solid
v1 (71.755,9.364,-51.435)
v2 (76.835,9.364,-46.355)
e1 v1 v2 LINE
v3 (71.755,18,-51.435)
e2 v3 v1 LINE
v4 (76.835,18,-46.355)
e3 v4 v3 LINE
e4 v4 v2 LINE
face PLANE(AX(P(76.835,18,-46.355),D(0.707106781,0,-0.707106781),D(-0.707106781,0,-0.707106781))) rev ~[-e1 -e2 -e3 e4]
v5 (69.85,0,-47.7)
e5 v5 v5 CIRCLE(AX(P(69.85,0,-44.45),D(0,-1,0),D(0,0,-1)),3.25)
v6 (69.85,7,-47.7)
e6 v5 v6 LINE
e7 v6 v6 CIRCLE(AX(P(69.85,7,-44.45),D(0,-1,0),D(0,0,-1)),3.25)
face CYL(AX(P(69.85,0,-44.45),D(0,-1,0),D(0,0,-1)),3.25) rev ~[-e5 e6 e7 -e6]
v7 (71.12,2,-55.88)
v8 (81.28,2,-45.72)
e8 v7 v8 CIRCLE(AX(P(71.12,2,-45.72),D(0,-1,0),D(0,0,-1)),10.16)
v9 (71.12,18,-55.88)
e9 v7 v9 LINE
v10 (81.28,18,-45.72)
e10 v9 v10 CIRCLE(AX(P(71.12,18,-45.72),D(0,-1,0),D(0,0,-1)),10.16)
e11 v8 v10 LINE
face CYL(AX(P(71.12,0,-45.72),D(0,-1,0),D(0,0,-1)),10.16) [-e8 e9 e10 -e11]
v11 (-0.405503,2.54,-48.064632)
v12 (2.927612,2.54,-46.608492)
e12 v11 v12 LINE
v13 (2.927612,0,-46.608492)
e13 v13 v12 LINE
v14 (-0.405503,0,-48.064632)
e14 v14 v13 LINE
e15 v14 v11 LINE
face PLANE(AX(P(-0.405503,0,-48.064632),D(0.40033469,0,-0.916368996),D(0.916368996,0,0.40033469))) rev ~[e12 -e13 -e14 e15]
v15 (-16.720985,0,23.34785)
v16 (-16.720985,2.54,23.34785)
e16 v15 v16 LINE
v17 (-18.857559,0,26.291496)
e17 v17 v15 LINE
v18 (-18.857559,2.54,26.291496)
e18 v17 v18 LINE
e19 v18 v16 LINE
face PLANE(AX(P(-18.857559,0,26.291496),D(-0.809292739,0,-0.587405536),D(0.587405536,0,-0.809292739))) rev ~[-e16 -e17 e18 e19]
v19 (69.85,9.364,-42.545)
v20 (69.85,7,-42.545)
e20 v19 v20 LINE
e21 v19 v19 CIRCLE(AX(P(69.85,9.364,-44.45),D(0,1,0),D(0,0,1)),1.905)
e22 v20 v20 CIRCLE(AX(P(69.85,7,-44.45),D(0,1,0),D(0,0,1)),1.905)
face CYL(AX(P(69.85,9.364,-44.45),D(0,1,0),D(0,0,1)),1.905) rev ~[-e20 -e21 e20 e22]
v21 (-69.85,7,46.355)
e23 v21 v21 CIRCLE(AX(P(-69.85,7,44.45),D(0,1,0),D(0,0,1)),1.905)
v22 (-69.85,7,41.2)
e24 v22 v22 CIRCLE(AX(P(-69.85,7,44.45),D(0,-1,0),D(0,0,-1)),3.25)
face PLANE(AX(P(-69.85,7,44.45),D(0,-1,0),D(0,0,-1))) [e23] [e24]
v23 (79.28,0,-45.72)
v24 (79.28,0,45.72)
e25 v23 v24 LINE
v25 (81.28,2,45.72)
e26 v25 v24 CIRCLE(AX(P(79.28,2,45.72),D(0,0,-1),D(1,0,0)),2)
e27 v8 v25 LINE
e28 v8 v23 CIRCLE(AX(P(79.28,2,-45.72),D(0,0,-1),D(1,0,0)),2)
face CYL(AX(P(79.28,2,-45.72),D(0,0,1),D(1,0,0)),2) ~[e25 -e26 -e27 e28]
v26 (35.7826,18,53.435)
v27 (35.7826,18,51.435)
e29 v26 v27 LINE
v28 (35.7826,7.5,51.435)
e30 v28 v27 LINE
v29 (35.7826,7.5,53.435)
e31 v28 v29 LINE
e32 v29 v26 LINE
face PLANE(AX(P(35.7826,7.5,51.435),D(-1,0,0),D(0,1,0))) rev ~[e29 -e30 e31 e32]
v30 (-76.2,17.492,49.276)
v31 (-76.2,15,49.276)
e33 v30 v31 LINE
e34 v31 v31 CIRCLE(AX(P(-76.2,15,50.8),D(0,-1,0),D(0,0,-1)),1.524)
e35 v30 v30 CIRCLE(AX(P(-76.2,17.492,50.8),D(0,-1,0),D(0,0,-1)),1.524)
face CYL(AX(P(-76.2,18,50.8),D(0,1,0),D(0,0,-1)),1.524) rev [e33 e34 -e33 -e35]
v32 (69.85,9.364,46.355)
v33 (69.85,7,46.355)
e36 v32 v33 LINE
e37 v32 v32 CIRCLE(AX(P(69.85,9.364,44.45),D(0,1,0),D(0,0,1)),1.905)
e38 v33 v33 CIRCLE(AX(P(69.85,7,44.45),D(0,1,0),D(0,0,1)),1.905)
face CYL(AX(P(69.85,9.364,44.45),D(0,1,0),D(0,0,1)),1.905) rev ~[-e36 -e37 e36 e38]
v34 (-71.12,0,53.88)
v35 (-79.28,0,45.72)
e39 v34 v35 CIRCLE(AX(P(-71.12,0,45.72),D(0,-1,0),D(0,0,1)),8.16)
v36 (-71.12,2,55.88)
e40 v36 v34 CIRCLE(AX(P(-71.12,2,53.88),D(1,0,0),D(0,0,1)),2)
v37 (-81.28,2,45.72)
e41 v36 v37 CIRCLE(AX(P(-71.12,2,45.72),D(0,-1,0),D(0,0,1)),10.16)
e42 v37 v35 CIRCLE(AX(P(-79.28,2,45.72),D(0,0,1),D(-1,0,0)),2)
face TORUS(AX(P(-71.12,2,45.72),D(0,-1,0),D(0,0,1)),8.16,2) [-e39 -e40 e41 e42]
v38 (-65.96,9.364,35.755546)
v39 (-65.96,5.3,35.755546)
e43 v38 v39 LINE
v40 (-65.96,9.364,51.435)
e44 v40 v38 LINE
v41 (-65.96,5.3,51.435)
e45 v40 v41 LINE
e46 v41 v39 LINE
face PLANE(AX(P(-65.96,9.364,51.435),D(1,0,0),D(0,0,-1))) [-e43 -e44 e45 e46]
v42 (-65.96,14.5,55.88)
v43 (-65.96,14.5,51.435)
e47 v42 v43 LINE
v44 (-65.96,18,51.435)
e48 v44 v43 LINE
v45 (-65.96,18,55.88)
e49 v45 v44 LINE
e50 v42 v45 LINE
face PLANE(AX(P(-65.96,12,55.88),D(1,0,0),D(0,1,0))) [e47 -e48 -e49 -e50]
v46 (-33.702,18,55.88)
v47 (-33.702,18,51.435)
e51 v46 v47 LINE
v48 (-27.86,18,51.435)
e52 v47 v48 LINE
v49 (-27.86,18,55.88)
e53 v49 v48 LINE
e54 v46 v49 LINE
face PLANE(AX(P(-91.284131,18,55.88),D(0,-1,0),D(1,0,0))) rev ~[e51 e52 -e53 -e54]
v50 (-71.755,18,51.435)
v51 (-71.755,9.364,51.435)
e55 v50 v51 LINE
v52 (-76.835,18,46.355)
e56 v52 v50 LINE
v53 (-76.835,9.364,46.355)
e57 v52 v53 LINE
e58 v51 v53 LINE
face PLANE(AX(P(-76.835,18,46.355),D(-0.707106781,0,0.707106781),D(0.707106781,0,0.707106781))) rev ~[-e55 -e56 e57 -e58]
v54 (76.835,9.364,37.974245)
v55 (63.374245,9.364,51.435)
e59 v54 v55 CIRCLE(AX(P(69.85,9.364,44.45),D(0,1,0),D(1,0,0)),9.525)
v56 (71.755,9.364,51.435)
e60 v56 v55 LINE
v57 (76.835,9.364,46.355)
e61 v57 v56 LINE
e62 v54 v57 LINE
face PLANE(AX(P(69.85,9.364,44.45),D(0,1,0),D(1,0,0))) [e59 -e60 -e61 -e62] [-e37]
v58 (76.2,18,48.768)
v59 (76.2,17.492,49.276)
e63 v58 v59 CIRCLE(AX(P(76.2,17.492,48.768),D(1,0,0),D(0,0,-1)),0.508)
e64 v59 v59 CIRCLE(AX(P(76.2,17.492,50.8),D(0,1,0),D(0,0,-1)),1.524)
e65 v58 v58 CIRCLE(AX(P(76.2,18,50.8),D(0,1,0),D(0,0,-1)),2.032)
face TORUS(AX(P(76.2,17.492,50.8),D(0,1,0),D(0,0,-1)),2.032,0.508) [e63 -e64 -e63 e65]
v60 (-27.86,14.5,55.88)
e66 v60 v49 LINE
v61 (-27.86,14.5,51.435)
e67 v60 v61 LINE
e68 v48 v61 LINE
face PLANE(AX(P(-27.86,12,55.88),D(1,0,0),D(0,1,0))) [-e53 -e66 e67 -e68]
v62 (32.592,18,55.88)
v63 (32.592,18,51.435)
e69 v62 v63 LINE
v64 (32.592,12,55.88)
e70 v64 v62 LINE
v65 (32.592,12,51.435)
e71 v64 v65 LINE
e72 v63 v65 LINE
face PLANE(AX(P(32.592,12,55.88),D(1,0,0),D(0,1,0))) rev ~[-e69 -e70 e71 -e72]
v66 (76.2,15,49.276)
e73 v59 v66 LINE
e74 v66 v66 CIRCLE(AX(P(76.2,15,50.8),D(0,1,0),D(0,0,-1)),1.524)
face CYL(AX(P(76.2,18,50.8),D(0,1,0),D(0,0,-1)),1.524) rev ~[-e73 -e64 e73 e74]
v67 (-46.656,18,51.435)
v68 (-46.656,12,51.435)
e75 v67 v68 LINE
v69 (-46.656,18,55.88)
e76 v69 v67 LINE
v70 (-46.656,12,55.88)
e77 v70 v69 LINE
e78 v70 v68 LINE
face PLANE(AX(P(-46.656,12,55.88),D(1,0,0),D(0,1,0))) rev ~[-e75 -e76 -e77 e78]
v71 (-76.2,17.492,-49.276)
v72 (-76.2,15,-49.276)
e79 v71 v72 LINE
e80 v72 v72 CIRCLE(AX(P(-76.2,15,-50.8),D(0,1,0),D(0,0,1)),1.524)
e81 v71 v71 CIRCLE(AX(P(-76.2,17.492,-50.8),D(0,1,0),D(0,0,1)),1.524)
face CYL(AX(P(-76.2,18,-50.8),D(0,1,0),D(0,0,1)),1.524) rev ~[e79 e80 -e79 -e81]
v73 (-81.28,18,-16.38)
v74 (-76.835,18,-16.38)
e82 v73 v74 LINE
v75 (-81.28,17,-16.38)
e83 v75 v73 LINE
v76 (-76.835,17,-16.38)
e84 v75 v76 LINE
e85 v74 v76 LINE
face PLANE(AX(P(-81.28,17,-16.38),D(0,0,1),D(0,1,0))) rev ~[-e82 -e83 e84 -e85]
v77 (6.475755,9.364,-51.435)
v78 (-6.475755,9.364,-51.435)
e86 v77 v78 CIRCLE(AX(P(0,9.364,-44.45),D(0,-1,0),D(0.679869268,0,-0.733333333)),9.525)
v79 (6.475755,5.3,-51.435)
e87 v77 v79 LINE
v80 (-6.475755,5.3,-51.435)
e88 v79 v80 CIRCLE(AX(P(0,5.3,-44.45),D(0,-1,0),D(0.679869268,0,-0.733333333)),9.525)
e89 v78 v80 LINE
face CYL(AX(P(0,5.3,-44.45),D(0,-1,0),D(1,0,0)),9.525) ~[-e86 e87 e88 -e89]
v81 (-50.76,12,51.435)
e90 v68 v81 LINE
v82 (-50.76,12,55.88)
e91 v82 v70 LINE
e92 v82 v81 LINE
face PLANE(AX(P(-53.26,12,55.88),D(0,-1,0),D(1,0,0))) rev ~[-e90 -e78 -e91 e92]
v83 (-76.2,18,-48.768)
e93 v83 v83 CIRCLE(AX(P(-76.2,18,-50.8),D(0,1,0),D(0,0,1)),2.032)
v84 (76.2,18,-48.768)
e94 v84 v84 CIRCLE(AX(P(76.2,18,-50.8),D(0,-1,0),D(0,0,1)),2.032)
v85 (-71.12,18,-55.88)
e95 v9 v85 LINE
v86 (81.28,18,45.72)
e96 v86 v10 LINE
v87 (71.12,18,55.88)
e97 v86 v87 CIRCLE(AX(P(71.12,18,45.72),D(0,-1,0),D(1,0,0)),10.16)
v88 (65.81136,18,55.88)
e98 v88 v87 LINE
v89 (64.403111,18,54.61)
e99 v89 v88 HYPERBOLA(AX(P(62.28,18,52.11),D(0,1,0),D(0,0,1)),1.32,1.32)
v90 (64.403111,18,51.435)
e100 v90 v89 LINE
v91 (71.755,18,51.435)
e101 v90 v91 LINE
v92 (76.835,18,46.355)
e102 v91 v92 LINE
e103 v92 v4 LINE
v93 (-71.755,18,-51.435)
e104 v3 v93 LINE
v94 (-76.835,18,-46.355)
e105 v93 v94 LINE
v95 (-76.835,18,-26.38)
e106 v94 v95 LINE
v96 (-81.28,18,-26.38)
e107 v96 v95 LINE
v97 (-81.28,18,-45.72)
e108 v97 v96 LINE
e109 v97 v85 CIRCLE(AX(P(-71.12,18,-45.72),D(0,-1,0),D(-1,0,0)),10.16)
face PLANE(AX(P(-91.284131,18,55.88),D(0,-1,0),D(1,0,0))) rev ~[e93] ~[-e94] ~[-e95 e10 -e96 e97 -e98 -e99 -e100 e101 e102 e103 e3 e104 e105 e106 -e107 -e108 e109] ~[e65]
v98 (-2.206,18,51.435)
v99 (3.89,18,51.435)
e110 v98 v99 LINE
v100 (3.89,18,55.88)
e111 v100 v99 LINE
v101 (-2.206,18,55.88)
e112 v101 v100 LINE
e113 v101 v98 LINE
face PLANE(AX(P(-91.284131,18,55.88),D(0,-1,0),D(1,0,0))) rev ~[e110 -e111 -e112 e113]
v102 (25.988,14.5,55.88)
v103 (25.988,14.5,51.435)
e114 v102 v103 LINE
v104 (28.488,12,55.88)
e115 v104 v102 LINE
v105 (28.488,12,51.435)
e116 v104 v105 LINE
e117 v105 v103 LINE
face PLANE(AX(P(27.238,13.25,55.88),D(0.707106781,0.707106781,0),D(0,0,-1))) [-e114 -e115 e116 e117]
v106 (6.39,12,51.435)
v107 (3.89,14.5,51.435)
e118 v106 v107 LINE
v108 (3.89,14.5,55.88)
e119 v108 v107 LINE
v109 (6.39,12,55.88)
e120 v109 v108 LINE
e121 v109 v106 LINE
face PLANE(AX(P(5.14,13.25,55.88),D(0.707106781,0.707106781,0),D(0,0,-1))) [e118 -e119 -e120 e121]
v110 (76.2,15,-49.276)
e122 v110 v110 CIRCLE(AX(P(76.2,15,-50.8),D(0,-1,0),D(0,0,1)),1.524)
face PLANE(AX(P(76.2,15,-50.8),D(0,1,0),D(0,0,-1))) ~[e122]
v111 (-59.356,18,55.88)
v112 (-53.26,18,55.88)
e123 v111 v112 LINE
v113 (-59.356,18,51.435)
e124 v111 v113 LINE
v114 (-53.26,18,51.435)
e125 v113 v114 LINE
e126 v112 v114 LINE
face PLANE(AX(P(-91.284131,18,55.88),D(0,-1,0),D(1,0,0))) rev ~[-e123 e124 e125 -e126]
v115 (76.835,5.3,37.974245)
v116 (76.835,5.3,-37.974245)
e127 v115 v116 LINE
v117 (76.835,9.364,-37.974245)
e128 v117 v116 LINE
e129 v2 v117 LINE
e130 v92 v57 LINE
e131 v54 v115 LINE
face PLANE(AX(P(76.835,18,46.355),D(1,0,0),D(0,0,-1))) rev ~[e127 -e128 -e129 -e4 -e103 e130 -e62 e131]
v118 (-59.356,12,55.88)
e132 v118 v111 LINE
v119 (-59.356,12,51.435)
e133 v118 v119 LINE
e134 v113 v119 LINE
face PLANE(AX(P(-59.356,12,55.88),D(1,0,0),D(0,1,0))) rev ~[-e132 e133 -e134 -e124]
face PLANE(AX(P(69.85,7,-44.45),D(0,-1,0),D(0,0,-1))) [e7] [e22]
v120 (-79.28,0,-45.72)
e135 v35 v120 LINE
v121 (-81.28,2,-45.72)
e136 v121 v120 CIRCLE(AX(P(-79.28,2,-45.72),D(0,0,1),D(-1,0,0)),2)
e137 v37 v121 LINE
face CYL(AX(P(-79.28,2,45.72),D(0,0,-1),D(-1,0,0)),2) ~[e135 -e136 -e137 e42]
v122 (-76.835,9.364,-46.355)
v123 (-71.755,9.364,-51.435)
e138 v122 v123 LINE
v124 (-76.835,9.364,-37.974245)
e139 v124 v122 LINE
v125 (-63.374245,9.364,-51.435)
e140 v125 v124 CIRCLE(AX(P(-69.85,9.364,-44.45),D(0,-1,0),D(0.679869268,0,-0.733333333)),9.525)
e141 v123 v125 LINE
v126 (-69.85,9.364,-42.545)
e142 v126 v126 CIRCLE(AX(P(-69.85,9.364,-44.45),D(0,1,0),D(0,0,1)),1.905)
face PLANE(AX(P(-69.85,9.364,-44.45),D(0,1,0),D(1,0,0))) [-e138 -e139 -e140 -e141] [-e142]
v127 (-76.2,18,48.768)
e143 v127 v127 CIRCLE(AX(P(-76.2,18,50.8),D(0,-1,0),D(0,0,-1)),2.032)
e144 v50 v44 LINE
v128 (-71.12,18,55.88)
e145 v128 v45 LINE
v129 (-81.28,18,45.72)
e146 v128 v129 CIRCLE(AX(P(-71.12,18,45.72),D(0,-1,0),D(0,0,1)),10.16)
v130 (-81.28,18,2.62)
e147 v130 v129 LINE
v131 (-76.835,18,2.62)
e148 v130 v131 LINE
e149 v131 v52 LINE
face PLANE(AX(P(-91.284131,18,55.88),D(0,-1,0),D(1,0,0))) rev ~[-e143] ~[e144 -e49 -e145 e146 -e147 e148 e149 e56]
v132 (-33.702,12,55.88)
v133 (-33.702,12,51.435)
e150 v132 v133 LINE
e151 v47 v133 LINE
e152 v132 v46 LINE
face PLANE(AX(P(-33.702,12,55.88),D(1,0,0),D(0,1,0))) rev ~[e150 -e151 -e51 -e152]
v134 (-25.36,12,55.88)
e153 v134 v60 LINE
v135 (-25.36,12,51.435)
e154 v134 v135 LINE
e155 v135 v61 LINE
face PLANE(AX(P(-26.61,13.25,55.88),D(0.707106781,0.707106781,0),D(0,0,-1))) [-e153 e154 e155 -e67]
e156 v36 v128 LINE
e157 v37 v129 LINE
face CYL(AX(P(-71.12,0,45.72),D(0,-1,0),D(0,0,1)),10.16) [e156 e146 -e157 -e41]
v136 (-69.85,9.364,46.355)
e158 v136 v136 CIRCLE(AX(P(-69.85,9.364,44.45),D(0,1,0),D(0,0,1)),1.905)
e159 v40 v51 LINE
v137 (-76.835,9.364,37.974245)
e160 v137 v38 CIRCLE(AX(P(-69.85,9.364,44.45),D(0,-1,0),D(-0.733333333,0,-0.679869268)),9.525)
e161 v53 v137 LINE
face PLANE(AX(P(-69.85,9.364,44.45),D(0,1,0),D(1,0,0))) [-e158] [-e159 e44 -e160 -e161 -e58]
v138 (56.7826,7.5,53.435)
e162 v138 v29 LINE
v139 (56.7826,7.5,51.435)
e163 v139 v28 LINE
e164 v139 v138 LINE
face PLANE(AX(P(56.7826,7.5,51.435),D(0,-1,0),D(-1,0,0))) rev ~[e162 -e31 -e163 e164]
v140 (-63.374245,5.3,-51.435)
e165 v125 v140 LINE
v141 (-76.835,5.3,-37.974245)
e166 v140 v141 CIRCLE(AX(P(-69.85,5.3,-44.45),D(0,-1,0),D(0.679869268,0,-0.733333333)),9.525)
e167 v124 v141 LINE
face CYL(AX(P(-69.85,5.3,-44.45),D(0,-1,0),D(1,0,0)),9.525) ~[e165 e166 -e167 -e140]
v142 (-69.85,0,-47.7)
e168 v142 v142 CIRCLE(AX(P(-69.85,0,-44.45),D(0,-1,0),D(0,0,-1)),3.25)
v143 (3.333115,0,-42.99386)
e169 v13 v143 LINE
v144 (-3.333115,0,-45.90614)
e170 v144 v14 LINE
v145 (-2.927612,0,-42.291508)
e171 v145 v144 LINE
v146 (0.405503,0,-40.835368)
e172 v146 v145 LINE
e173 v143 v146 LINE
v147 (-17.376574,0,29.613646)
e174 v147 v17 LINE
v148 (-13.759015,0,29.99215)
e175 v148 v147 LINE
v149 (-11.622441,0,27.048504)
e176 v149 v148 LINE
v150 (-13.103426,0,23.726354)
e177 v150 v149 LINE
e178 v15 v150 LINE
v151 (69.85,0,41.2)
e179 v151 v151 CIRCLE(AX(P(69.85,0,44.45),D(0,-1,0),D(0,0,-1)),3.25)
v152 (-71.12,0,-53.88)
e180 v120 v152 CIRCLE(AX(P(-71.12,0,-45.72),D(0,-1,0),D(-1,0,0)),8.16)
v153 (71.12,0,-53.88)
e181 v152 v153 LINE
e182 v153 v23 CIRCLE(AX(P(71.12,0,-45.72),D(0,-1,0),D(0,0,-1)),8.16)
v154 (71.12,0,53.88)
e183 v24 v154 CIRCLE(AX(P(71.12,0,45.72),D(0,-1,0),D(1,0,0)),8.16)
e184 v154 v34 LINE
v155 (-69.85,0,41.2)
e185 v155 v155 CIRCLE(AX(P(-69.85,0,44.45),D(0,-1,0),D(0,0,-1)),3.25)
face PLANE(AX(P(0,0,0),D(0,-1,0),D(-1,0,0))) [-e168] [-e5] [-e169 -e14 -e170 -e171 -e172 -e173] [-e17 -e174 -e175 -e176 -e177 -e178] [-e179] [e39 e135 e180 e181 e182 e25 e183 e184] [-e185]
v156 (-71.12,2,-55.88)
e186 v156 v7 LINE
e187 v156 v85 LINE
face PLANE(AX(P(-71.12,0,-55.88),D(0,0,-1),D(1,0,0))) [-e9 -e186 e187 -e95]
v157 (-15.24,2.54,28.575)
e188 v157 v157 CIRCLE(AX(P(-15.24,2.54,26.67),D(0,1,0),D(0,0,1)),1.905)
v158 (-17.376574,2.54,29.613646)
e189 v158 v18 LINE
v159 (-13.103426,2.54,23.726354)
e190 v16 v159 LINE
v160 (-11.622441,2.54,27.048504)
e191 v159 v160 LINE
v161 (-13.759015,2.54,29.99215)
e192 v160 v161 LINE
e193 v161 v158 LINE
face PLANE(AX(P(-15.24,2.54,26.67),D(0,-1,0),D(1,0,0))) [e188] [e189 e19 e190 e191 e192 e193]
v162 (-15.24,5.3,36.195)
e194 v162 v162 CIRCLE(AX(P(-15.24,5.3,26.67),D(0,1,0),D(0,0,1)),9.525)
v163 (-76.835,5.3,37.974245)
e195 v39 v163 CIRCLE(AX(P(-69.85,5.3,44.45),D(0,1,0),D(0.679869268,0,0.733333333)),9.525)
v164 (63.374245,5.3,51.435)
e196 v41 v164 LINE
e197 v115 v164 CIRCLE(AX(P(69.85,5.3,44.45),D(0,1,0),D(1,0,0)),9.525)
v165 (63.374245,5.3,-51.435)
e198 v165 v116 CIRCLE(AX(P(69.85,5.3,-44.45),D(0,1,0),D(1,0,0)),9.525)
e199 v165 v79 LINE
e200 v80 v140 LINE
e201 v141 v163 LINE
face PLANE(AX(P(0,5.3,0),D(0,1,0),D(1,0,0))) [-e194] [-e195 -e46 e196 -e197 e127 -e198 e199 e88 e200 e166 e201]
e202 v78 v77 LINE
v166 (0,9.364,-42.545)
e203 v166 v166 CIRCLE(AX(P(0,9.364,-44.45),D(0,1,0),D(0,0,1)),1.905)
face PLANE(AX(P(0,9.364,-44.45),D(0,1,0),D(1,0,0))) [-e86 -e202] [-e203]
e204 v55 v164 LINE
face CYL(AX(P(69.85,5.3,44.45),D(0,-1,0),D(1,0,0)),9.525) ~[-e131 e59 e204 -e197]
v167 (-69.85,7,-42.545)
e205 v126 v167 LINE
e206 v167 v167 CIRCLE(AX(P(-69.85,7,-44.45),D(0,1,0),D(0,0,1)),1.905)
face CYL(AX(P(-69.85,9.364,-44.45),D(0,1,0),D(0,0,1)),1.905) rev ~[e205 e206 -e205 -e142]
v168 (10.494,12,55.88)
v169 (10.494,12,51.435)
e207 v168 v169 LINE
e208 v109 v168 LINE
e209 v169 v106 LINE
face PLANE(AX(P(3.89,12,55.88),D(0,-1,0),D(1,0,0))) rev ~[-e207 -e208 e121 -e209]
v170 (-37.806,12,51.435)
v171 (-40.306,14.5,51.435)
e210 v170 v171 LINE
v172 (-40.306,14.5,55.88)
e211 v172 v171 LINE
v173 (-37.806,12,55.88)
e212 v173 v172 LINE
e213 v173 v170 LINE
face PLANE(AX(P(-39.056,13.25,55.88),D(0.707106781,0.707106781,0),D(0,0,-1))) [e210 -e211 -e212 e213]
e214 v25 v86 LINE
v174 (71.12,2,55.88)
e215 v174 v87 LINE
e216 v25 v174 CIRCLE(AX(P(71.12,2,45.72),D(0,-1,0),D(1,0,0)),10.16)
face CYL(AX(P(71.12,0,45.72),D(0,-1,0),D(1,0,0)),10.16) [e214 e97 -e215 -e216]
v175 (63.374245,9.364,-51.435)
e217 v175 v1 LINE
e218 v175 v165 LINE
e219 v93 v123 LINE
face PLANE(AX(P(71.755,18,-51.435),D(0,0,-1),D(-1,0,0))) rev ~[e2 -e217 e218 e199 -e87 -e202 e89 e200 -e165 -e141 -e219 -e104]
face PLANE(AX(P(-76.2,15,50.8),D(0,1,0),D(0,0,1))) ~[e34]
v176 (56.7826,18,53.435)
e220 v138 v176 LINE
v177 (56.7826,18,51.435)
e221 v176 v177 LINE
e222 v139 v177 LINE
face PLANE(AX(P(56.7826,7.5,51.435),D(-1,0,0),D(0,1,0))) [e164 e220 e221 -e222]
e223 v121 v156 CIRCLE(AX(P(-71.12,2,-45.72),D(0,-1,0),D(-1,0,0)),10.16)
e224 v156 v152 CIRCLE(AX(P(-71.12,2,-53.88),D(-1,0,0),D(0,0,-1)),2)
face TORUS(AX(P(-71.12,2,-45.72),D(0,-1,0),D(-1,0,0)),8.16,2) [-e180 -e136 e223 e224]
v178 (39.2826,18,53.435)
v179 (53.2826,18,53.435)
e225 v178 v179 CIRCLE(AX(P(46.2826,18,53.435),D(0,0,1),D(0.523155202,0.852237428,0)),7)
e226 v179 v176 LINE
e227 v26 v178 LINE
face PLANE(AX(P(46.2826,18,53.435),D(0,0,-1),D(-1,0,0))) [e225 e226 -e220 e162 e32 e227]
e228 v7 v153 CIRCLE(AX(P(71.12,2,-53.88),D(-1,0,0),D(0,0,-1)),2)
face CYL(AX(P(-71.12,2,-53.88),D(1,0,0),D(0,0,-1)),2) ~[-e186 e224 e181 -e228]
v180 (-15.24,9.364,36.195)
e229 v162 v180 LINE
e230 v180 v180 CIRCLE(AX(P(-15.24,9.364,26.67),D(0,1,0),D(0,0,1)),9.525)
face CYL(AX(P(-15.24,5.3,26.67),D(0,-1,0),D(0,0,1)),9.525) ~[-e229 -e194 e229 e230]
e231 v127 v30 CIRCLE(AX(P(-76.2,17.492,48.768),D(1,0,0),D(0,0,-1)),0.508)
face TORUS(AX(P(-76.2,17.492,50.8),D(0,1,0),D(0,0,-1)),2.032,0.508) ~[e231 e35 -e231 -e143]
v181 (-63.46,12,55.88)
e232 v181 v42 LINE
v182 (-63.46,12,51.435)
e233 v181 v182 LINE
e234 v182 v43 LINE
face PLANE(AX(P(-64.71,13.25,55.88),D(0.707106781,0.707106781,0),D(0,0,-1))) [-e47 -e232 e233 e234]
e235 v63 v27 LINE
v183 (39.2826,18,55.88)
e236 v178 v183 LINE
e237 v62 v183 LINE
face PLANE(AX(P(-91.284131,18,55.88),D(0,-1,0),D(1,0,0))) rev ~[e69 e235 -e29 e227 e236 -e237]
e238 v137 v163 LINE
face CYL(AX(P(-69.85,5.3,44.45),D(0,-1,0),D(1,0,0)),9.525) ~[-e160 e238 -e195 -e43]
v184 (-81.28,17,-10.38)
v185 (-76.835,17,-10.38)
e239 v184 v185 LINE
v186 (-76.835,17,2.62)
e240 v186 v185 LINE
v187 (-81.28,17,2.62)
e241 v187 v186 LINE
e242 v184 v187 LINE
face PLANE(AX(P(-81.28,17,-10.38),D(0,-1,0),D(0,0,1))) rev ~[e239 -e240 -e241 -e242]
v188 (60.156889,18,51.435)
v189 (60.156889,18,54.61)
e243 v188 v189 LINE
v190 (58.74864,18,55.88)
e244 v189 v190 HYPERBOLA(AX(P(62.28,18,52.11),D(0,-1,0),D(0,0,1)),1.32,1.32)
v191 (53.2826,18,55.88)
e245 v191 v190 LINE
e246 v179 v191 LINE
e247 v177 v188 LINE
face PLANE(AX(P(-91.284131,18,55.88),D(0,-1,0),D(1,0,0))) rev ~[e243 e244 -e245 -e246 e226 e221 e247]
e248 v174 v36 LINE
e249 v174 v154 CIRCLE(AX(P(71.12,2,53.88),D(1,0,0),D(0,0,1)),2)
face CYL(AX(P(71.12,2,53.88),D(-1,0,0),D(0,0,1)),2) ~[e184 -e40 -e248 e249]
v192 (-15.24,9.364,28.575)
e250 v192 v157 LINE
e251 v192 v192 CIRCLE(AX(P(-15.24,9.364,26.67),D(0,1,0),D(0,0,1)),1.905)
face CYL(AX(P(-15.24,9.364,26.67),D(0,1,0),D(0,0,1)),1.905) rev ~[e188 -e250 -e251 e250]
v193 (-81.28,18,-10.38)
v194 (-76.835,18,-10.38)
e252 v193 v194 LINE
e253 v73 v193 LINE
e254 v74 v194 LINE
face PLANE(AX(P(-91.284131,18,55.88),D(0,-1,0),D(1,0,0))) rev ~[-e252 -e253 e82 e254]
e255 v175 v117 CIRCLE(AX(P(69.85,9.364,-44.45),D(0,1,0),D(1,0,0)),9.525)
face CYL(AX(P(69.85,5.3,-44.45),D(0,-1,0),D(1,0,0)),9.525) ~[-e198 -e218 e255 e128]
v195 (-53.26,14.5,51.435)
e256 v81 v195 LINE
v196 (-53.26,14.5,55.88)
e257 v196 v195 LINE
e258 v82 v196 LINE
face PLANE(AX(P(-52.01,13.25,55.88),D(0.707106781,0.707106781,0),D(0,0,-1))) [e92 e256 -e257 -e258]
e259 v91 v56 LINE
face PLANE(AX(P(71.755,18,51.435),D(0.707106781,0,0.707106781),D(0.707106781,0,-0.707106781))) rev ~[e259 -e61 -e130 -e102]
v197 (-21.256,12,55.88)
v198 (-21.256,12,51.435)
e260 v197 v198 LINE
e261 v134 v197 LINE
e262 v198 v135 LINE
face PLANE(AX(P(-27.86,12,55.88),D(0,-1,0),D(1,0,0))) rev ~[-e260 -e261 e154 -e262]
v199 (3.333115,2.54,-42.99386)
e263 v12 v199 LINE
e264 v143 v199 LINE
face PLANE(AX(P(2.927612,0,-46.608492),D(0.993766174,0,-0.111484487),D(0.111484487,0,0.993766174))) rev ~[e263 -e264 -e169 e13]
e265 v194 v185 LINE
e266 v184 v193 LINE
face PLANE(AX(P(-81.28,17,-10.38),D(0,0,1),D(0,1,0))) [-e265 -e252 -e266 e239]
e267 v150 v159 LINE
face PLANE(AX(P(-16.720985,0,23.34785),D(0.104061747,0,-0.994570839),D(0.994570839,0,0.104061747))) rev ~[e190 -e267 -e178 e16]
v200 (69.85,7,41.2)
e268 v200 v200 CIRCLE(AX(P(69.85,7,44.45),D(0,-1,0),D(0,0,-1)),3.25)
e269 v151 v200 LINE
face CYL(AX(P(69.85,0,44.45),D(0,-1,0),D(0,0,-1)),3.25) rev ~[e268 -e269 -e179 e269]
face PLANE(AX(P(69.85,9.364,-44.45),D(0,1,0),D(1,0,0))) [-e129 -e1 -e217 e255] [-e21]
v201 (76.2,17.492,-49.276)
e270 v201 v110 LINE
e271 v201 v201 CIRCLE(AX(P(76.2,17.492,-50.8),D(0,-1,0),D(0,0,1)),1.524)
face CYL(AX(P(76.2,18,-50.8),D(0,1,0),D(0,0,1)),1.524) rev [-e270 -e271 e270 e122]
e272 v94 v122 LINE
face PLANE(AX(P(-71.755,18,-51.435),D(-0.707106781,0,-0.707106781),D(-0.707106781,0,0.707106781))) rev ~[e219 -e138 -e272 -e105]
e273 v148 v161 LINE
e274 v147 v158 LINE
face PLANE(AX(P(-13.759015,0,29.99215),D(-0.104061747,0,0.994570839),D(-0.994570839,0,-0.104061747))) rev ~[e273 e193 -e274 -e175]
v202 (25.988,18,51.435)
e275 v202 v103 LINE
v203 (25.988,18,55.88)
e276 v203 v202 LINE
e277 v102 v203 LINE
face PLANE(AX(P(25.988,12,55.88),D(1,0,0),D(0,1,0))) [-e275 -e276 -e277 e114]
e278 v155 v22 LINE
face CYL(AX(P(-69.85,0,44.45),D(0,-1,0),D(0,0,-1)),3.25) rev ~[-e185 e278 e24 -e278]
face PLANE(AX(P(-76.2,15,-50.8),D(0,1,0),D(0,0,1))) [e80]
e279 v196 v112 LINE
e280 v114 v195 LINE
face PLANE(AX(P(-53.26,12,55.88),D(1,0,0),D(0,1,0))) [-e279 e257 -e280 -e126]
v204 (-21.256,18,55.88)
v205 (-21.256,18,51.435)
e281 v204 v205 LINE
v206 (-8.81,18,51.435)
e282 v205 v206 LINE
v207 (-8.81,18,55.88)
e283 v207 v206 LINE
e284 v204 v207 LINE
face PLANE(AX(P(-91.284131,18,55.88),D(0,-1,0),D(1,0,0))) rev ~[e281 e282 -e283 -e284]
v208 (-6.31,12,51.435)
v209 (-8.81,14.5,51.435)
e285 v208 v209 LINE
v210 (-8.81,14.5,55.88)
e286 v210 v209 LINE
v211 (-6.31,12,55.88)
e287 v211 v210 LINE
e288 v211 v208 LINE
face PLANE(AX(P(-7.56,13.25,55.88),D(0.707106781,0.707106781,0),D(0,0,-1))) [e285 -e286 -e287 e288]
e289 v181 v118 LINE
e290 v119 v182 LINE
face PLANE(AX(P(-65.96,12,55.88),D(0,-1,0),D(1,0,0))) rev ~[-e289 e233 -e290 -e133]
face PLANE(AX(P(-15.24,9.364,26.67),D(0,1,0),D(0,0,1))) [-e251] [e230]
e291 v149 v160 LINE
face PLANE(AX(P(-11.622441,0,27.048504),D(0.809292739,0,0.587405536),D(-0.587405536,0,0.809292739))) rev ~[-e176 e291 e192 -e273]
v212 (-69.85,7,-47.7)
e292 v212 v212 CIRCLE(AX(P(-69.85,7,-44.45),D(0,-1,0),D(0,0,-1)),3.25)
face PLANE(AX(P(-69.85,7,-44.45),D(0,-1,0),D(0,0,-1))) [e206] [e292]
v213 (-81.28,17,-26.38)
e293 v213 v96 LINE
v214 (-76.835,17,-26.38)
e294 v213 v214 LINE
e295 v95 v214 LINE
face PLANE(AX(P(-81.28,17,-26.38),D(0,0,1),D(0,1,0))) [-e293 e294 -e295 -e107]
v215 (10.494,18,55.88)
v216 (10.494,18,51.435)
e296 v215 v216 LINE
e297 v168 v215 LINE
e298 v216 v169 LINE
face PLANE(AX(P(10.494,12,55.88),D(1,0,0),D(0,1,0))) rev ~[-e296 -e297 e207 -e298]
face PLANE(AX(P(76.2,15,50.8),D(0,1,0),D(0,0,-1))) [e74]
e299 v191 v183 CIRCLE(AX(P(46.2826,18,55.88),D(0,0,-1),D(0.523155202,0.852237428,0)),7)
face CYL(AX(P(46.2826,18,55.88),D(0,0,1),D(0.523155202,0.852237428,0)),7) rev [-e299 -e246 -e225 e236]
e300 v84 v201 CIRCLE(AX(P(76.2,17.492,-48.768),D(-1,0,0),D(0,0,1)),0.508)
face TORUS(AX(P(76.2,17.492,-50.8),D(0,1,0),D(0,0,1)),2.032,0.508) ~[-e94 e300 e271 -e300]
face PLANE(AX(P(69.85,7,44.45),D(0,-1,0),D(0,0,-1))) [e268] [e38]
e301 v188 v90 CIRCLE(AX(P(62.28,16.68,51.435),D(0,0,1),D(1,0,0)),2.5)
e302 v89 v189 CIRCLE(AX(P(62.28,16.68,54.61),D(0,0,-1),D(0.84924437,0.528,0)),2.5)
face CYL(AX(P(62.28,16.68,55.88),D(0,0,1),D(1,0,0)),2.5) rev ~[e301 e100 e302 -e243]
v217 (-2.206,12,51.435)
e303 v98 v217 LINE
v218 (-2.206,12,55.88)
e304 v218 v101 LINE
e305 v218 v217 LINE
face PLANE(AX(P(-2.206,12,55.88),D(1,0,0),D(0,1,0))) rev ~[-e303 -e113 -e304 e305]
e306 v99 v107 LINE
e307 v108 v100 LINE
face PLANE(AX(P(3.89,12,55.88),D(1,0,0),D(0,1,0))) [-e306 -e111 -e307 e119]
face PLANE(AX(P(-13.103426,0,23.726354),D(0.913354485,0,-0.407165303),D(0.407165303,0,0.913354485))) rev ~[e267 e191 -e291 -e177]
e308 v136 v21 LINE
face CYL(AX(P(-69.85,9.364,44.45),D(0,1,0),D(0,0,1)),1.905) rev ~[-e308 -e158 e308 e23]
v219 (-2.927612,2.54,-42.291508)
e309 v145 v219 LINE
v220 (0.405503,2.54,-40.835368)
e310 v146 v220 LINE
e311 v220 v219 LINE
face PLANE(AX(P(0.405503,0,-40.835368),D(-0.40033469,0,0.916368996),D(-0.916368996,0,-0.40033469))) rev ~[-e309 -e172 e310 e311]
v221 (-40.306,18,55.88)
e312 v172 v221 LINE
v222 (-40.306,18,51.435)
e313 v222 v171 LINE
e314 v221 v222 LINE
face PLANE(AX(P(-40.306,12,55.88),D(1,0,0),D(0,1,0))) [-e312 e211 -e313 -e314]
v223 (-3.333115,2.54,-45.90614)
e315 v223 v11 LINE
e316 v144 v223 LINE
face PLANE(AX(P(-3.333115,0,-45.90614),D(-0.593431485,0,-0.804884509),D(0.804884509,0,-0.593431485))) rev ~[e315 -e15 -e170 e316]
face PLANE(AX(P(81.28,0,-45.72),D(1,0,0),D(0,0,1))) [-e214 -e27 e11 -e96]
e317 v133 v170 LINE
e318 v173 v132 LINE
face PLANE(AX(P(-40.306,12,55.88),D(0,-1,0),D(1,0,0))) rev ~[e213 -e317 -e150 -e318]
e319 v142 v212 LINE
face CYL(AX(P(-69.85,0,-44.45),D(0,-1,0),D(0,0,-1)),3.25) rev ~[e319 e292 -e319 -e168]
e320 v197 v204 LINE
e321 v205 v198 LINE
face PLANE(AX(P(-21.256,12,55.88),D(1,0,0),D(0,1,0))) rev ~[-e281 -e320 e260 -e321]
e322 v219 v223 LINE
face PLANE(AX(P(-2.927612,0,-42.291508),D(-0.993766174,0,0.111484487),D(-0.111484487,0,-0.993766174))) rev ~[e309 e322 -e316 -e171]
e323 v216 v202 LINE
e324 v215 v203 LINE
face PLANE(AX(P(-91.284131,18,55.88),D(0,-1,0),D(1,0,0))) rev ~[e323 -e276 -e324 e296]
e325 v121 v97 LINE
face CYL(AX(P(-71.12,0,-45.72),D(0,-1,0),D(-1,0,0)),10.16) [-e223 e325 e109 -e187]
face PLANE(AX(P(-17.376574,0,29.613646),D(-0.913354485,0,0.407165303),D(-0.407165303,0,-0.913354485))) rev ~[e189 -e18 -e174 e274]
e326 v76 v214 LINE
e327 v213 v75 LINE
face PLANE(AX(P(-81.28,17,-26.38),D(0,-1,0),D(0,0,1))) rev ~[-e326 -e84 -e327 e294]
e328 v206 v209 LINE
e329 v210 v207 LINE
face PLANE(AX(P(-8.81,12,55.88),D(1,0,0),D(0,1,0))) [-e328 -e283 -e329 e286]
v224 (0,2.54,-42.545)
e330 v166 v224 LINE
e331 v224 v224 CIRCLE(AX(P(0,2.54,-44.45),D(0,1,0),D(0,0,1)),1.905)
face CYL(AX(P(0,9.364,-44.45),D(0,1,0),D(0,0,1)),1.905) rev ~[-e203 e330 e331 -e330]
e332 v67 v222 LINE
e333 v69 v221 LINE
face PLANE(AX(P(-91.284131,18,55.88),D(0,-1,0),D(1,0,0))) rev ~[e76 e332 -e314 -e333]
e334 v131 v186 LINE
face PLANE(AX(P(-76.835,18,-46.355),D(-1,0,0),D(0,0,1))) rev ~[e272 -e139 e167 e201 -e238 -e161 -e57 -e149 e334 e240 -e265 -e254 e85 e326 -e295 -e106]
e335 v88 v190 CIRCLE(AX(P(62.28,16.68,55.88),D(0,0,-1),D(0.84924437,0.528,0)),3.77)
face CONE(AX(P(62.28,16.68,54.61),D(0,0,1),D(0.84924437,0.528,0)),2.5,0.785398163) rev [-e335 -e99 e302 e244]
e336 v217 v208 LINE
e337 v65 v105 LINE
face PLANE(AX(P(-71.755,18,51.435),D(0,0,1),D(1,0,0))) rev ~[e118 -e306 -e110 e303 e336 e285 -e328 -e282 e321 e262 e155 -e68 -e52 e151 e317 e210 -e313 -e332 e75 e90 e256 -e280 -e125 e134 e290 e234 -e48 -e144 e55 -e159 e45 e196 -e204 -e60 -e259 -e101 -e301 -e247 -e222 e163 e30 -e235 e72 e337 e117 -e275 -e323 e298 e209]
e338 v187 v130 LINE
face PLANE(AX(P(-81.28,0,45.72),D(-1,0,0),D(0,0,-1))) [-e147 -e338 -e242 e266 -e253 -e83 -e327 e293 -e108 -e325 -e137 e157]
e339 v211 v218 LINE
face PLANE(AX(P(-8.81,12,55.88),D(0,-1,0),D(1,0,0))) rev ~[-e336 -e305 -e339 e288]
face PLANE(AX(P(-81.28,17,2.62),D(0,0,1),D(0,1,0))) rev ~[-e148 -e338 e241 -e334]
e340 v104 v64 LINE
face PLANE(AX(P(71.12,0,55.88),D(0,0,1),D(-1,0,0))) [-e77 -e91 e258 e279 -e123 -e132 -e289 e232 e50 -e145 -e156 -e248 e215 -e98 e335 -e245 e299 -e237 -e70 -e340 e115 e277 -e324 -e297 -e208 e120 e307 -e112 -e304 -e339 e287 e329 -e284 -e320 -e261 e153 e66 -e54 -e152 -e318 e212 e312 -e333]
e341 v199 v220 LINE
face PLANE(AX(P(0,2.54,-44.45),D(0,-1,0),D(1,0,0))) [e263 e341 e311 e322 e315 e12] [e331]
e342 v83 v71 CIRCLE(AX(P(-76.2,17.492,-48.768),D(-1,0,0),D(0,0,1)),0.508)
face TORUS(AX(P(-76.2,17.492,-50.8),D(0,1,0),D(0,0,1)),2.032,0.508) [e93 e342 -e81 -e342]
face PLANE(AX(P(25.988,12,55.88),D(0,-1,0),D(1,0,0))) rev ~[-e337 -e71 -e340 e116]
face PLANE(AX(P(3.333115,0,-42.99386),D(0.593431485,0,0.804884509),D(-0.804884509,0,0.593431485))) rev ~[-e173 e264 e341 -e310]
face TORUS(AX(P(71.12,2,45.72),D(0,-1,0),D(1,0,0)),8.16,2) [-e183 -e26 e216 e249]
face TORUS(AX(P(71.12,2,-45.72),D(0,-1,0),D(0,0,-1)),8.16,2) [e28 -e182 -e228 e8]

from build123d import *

# Parameters (mm, degrees)
BOSS_EXTRUDE1_DEPTH     = 40
SKETCH2_R               = 2.5
SKETCH2_W               = 6.604
SKETCH2_H               = 16
CUT_EXTRUDE1_DEPTH      = 40
SKETCH3_W               = 10
SKETCH3_H               = 12
SKETCH3_W_2             = 13
CUT_EXTRUDE2_DEPTH      = 40
CUT_EXTRUDE3_DEPTH      = 120
FILLET1_R               = 2
CUT_EXTRUDE4_DEPTH      = 12.7
SKETCH6_R               = 9.525
BOSS_EXTRUDE2_DEPTH     = 4.064
SKETCH7_W               = 11.676427735
SKETCH7_H               = 23.200256036
CUT_EXTRUDE5_DEPTH      = 4.064
SKETCH8_R               = 1.905
CUT_EXTRUDE6_DEPTH      = 14.224
SKETCH9_R               = 3.25
CUT_EXTRUDE7_DEPTH      = 7
CHAMFER1_SIZE           = 1.27
SKETCH11_R              = 1.524
CUT_EXTRUDE8_DEPTH      = 3
MIRROR2_COPY_1_SKETCH_R = 1.524
MIRROR2_COPY_1_DEPTH    = 3
FILLET2_R               = 0.508
CHAMFER2_SIZE           = 2.5
SKETCH13_W              = 21
SKETCH13_H              = 21
CUT_EXTRUDE10_DEPTH     = 2
CUT_EXTRUDE11_DEPTH     = 2.54


with BuildPart() as part:
    # Sketch1 → Boss-Extrude1 (new body)
    with BuildSketch(Plane(origin=(0, 0, 0), x_dir=(1, 0, 0), z_dir=(0, 1, 0))):
        with BuildLine():
            Line((-71.12, 55.88), (71.12, 55.88))
            ThreePointArc((71.12, 55.88), (78.304204897, 52.904204897), (81.28, 45.72))
            Line((81.28, 45.72), (81.28, -45.72))
            ThreePointArc((81.28, -45.72), (78.304204897, -52.904204897), (71.12, -55.88))
            Line((71.12, -55.88), (-71.12, -55.88))
            ThreePointArc((-71.12, -55.88), (-78.304204897, -52.904204897), (-81.28, -45.72))
            Line((-81.28, -45.72), (-81.28, 45.72))
            ThreePointArc((-81.28, 45.72), (-78.304204897, 52.904204897), (-71.12, 55.88))
        make_face()
    extrude(amount=BOSS_EXTRUDE1_DEPTH)

    # Sketch2 → Cut-Extrude1 (cut)
    with BuildSketch(Plane.XY.offset(55.88)):
        with Locations((62.28, 16.68)):
            Circle(SKETCH2_R)
        with BuildLine():
            Line((42.620513585, 23.965662), (49.944686415, 23.965662))
            ThreePointArc((49.944686415, 23.965662), (46.2826, 11), (42.620513585, 23.965662))
        make_face()
        with Locations((-62.658, 20)):
            Rectangle(SKETCH2_W, SKETCH2_H)
        with Locations((-49.958, 20)):
            Rectangle(SKETCH2_W, SKETCH2_H)
        with Locations((-37.004, 20)):
            Rectangle(SKETCH2_W, SKETCH2_H)
        with Locations((-24.558, 20)):
            Rectangle(SKETCH2_W, SKETCH2_H)
        with Locations((-5.508, 20)):
            Rectangle(SKETCH2_W, SKETCH2_H)
        with Locations((7.192, 20)):
            Rectangle(SKETCH2_W, SKETCH2_H)
        with Locations((29.29, 20)):
            Rectangle(SKETCH2_W, SKETCH2_H)
    extrude(amount=-CUT_EXTRUDE1_DEPTH, mode=Mode.SUBTRACT)

    # Sketch3 → Cut-Extrude2 (cut)
    with BuildSketch(Plane.ZY.offset(81.28)):
        with Locations((-21.38, 23)):
            Rectangle(SKETCH3_W, SKETCH3_H)
        with Locations((-3.88, 23)):
            Rectangle(SKETCH3_W_2, SKETCH3_H)
    extrude(amount=-CUT_EXTRUDE2_DEPTH, mode=Mode.SUBTRACT)

    # Sketch4 → Cut-Extrude3 (cut)
    with BuildSketch(Plane.XY.offset(55.88)):
        Polygon((46.2826, 18), (-91.284131273, 18), (-91.284131273, 53.822407205), (88.19283599, 53.822407205), (88.19283599, 18), align=None)
    extrude(amount=-CUT_EXTRUDE3_DEPTH, mode=Mode.SUBTRACT)

    # Fillet1
    fillet1_edges = [part.edges().sort_by_distance(p)[0] for p in [
        (0, 0, 55.88),
        (-78.304204897, 0, 52.904204897),
        (-81.28, 0, 0),
        (-78.304204897, 0, -52.904204897),
        (0, 0, -55.88),
        (78.304204897, 0, -52.904204897),
        (81.28, 0, 0),
        (78.304204897, 0, 52.904204897),
    ]]
    fillet(fillet1_edges, radius=FILLET1_R)

    # Sketch5 → Cut-Extrude4 (cut)
    with BuildSketch(Plane(origin=(0, 18, 0), x_dir=(1, 0, 0), z_dir=(0, 1, 0))):
        Polygon((-76.835, -46.355), (-71.755, -51.435), (71.755, -51.435), (76.835, -46.355), (76.835, 46.355), (71.755, 51.435), (-71.755, 51.435), (-76.835, 46.355), align=None)
    extrude(amount=-CUT_EXTRUDE4_DEPTH, mode=Mode.SUBTRACT)

    # Sketch6 → Boss-Extrude2 (add)
    with BuildSketch(Plane(origin=(0, 5.3, 0), x_dir=(1, 0, 0), z_dir=(0, 1, 0))):
        with Locations((-69.85, -44.45)):
            Circle(SKETCH6_R)
        with Locations((-69.85, 44.45)):
            Circle(SKETCH6_R)
        with Locations((0, 44.45)):
            Circle(SKETCH6_R)
        with Locations((69.85, 44.45)):
            Circle(SKETCH6_R)
        with Locations(Location((-15.24, -26.67, 0), (0, 0, 270))):
            Circle(SKETCH6_R)
        with Locations((69.85, -44.45)):
            Circle(SKETCH6_R)
    extrude(amount=BOSS_EXTRUDE2_DEPTH)

    # Sketch7 → Cut-Extrude5 (cut)
    with BuildSketch(Plane(origin=(0, 9.364, 0), x_dir=(1, 0, 0), z_dir=(0, 1, 0))):
        with Locations((-60.121786133, -39.834871982)):
            Rectangle(SKETCH7_W, SKETCH7_H)
    extrude(amount=-CUT_EXTRUDE5_DEPTH, mode=Mode.SUBTRACT)

    # Sketch8 → Cut-Extrude6 (cut)
    with BuildSketch(Plane(origin=(0, 9.364, 0), x_dir=(1, 0, 0), z_dir=(0, 1, 0))):
        with Locations(Location((-69.85, 44.45, 0), (0, 0, 270))):
            Circle(SKETCH8_R)
        with Locations(Location((0, 44.45, 0), (0, 0, 270))):
            Circle(SKETCH8_R)
        with Locations(Location((69.85, 44.45, 0), (0, 0, 270))):
            Circle(SKETCH8_R)
        with Locations(Location((69.85, -44.45, 0), (0, 0, 270))):
            Circle(SKETCH8_R)
        with Locations(Location((-15.24, -26.67, 0), (0, 0, 270))):
            Circle(SKETCH8_R)
        with Locations(Location((-69.85, -44.45, 0), (0, 0, 270))):
            Circle(SKETCH8_R)
    extrude(amount=-CUT_EXTRUDE6_DEPTH, mode=Mode.SUBTRACT)

    # Sketch9 → Cut-Extrude7 (cut)
    with BuildSketch(Plane.XZ):
        with Locations(Location((-69.85, 44.45, 0), (0, 0, 270))):
            Circle(SKETCH9_R)
        with Locations(Location((69.85, 44.45, 0), (0, 0, 270))):
            Circle(SKETCH9_R)
        with Locations(Location((69.85, -44.45, 0), (0, 0, 270))):
            Circle(SKETCH9_R)
        with Locations(Location((-69.85, -44.45, 0), (0, 0, 270))):
            Circle(SKETCH9_R)
    extrude(amount=-CUT_EXTRUDE7_DEPTH, mode=Mode.SUBTRACT)

    # Chamfer1
    chamfer1_edges = [part.edges().sort_by_distance(p)[0] for p in [
        (62.28, 14.18, 55.88),
    ]]
    chamfer(chamfer1_edges, length=CHAMFER1_SIZE)

    # Sketch11 → Cut-Extrude8 (cut)
    with BuildSketch(Plane(origin=(0, 18, 0), x_dir=(1, 0, 0), z_dir=(0, 1, 0))):
        with Locations(Location((-76.2, 50.8, 0), (0, 0, 270))):
            Circle(SKETCH11_R)
    cut_extrude8 = extrude(amount=-CUT_EXTRUDE8_DEPTH, mode=Mode.SUBTRACT)

    # Mirror1: Cut-Extrude8 across plane
    add(cut_extrude8.mirror(Plane.XY), mode=Mode.SUBTRACT)

    # Mirror2: Cut-Extrude8 across plane
    add(cut_extrude8.mirror(Plane(origin=(0, 0, 0), x_dir=(0, 0, 1), z_dir=(1, 0, 0))), mode=Mode.SUBTRACT)

    # Mirror2 copy 1 sketch → Mirror2 copy 1 (cut)
    with BuildSketch(Plane(origin=(0, 18, 0), x_dir=(-1, 0, 0), z_dir=(0, 1, 0))):
        with Locations(Location((-76.2, 50.8, 0), (0, 0, 270))):
            Circle(MIRROR2_COPY_1_SKETCH_R)
    extrude(amount=-MIRROR2_COPY_1_DEPTH, mode=Mode.SUBTRACT)

    # Fillet2
    fillet2_edges = [part.edges().sort_by_distance(p)[0] for p in [
        (-76.2, 18, -52.324),
        (-76.2, 18, 52.324),
        (76.2, 18, -52.324),
        (76.2, 18, 52.324),
    ]]
    fillet(fillet2_edges, radius=FILLET2_R)

    # Chamfer2
    chamfer2_edges = [part.edges().sort_by_distance(p)[0] for p in [
        (25.988, 12, 53.6575),
        (3.89, 12, 53.6575),
        (-8.81, 12, 53.6575),
        (-27.86, 12, 53.6575),
        (-40.306, 12, 53.6575),
        (-53.26, 12, 53.6575),
        (-65.96, 12, 53.6575),
    ]]
    chamfer(chamfer2_edges, length=CHAMFER2_SIZE)

    # Sketch13 → Cut-Extrude10 (cut)
    with BuildSketch(Plane(origin=(0, 0, 51.435), x_dir=(-1, 0, 0), z_dir=(0, 0, -1))):
        with Locations((-46.2826, 18)):
            Rectangle(SKETCH13_W, SKETCH13_H)
    extrude(amount=-CUT_EXTRUDE10_DEPTH, mode=Mode.SUBTRACT)

    # Sketch14 → Cut-Extrude11 (cut)
    with BuildSketch(Plane.XZ):
        Polygon((-13.103425912, 23.726354103), (-11.622440829, 27.048504489), (-13.759014917, 29.992150386), (-17.376574088, 29.613645897), (-18.857559171, 26.291495511), (-16.720985083, 23.347849614), align=None)
        Polygon((2.927611814, -46.608492313), (3.333115084, -42.993859954), (0.40550327, -40.83536764), (-2.927611814, -42.291507687), (-3.333115084, -45.906140046), (-0.40550327, -48.06463236), align=None)
    extrude(amount=-CUT_EXTRUDE11_DEPTH, mode=Mode.SUBTRACT)


solid = part.part
